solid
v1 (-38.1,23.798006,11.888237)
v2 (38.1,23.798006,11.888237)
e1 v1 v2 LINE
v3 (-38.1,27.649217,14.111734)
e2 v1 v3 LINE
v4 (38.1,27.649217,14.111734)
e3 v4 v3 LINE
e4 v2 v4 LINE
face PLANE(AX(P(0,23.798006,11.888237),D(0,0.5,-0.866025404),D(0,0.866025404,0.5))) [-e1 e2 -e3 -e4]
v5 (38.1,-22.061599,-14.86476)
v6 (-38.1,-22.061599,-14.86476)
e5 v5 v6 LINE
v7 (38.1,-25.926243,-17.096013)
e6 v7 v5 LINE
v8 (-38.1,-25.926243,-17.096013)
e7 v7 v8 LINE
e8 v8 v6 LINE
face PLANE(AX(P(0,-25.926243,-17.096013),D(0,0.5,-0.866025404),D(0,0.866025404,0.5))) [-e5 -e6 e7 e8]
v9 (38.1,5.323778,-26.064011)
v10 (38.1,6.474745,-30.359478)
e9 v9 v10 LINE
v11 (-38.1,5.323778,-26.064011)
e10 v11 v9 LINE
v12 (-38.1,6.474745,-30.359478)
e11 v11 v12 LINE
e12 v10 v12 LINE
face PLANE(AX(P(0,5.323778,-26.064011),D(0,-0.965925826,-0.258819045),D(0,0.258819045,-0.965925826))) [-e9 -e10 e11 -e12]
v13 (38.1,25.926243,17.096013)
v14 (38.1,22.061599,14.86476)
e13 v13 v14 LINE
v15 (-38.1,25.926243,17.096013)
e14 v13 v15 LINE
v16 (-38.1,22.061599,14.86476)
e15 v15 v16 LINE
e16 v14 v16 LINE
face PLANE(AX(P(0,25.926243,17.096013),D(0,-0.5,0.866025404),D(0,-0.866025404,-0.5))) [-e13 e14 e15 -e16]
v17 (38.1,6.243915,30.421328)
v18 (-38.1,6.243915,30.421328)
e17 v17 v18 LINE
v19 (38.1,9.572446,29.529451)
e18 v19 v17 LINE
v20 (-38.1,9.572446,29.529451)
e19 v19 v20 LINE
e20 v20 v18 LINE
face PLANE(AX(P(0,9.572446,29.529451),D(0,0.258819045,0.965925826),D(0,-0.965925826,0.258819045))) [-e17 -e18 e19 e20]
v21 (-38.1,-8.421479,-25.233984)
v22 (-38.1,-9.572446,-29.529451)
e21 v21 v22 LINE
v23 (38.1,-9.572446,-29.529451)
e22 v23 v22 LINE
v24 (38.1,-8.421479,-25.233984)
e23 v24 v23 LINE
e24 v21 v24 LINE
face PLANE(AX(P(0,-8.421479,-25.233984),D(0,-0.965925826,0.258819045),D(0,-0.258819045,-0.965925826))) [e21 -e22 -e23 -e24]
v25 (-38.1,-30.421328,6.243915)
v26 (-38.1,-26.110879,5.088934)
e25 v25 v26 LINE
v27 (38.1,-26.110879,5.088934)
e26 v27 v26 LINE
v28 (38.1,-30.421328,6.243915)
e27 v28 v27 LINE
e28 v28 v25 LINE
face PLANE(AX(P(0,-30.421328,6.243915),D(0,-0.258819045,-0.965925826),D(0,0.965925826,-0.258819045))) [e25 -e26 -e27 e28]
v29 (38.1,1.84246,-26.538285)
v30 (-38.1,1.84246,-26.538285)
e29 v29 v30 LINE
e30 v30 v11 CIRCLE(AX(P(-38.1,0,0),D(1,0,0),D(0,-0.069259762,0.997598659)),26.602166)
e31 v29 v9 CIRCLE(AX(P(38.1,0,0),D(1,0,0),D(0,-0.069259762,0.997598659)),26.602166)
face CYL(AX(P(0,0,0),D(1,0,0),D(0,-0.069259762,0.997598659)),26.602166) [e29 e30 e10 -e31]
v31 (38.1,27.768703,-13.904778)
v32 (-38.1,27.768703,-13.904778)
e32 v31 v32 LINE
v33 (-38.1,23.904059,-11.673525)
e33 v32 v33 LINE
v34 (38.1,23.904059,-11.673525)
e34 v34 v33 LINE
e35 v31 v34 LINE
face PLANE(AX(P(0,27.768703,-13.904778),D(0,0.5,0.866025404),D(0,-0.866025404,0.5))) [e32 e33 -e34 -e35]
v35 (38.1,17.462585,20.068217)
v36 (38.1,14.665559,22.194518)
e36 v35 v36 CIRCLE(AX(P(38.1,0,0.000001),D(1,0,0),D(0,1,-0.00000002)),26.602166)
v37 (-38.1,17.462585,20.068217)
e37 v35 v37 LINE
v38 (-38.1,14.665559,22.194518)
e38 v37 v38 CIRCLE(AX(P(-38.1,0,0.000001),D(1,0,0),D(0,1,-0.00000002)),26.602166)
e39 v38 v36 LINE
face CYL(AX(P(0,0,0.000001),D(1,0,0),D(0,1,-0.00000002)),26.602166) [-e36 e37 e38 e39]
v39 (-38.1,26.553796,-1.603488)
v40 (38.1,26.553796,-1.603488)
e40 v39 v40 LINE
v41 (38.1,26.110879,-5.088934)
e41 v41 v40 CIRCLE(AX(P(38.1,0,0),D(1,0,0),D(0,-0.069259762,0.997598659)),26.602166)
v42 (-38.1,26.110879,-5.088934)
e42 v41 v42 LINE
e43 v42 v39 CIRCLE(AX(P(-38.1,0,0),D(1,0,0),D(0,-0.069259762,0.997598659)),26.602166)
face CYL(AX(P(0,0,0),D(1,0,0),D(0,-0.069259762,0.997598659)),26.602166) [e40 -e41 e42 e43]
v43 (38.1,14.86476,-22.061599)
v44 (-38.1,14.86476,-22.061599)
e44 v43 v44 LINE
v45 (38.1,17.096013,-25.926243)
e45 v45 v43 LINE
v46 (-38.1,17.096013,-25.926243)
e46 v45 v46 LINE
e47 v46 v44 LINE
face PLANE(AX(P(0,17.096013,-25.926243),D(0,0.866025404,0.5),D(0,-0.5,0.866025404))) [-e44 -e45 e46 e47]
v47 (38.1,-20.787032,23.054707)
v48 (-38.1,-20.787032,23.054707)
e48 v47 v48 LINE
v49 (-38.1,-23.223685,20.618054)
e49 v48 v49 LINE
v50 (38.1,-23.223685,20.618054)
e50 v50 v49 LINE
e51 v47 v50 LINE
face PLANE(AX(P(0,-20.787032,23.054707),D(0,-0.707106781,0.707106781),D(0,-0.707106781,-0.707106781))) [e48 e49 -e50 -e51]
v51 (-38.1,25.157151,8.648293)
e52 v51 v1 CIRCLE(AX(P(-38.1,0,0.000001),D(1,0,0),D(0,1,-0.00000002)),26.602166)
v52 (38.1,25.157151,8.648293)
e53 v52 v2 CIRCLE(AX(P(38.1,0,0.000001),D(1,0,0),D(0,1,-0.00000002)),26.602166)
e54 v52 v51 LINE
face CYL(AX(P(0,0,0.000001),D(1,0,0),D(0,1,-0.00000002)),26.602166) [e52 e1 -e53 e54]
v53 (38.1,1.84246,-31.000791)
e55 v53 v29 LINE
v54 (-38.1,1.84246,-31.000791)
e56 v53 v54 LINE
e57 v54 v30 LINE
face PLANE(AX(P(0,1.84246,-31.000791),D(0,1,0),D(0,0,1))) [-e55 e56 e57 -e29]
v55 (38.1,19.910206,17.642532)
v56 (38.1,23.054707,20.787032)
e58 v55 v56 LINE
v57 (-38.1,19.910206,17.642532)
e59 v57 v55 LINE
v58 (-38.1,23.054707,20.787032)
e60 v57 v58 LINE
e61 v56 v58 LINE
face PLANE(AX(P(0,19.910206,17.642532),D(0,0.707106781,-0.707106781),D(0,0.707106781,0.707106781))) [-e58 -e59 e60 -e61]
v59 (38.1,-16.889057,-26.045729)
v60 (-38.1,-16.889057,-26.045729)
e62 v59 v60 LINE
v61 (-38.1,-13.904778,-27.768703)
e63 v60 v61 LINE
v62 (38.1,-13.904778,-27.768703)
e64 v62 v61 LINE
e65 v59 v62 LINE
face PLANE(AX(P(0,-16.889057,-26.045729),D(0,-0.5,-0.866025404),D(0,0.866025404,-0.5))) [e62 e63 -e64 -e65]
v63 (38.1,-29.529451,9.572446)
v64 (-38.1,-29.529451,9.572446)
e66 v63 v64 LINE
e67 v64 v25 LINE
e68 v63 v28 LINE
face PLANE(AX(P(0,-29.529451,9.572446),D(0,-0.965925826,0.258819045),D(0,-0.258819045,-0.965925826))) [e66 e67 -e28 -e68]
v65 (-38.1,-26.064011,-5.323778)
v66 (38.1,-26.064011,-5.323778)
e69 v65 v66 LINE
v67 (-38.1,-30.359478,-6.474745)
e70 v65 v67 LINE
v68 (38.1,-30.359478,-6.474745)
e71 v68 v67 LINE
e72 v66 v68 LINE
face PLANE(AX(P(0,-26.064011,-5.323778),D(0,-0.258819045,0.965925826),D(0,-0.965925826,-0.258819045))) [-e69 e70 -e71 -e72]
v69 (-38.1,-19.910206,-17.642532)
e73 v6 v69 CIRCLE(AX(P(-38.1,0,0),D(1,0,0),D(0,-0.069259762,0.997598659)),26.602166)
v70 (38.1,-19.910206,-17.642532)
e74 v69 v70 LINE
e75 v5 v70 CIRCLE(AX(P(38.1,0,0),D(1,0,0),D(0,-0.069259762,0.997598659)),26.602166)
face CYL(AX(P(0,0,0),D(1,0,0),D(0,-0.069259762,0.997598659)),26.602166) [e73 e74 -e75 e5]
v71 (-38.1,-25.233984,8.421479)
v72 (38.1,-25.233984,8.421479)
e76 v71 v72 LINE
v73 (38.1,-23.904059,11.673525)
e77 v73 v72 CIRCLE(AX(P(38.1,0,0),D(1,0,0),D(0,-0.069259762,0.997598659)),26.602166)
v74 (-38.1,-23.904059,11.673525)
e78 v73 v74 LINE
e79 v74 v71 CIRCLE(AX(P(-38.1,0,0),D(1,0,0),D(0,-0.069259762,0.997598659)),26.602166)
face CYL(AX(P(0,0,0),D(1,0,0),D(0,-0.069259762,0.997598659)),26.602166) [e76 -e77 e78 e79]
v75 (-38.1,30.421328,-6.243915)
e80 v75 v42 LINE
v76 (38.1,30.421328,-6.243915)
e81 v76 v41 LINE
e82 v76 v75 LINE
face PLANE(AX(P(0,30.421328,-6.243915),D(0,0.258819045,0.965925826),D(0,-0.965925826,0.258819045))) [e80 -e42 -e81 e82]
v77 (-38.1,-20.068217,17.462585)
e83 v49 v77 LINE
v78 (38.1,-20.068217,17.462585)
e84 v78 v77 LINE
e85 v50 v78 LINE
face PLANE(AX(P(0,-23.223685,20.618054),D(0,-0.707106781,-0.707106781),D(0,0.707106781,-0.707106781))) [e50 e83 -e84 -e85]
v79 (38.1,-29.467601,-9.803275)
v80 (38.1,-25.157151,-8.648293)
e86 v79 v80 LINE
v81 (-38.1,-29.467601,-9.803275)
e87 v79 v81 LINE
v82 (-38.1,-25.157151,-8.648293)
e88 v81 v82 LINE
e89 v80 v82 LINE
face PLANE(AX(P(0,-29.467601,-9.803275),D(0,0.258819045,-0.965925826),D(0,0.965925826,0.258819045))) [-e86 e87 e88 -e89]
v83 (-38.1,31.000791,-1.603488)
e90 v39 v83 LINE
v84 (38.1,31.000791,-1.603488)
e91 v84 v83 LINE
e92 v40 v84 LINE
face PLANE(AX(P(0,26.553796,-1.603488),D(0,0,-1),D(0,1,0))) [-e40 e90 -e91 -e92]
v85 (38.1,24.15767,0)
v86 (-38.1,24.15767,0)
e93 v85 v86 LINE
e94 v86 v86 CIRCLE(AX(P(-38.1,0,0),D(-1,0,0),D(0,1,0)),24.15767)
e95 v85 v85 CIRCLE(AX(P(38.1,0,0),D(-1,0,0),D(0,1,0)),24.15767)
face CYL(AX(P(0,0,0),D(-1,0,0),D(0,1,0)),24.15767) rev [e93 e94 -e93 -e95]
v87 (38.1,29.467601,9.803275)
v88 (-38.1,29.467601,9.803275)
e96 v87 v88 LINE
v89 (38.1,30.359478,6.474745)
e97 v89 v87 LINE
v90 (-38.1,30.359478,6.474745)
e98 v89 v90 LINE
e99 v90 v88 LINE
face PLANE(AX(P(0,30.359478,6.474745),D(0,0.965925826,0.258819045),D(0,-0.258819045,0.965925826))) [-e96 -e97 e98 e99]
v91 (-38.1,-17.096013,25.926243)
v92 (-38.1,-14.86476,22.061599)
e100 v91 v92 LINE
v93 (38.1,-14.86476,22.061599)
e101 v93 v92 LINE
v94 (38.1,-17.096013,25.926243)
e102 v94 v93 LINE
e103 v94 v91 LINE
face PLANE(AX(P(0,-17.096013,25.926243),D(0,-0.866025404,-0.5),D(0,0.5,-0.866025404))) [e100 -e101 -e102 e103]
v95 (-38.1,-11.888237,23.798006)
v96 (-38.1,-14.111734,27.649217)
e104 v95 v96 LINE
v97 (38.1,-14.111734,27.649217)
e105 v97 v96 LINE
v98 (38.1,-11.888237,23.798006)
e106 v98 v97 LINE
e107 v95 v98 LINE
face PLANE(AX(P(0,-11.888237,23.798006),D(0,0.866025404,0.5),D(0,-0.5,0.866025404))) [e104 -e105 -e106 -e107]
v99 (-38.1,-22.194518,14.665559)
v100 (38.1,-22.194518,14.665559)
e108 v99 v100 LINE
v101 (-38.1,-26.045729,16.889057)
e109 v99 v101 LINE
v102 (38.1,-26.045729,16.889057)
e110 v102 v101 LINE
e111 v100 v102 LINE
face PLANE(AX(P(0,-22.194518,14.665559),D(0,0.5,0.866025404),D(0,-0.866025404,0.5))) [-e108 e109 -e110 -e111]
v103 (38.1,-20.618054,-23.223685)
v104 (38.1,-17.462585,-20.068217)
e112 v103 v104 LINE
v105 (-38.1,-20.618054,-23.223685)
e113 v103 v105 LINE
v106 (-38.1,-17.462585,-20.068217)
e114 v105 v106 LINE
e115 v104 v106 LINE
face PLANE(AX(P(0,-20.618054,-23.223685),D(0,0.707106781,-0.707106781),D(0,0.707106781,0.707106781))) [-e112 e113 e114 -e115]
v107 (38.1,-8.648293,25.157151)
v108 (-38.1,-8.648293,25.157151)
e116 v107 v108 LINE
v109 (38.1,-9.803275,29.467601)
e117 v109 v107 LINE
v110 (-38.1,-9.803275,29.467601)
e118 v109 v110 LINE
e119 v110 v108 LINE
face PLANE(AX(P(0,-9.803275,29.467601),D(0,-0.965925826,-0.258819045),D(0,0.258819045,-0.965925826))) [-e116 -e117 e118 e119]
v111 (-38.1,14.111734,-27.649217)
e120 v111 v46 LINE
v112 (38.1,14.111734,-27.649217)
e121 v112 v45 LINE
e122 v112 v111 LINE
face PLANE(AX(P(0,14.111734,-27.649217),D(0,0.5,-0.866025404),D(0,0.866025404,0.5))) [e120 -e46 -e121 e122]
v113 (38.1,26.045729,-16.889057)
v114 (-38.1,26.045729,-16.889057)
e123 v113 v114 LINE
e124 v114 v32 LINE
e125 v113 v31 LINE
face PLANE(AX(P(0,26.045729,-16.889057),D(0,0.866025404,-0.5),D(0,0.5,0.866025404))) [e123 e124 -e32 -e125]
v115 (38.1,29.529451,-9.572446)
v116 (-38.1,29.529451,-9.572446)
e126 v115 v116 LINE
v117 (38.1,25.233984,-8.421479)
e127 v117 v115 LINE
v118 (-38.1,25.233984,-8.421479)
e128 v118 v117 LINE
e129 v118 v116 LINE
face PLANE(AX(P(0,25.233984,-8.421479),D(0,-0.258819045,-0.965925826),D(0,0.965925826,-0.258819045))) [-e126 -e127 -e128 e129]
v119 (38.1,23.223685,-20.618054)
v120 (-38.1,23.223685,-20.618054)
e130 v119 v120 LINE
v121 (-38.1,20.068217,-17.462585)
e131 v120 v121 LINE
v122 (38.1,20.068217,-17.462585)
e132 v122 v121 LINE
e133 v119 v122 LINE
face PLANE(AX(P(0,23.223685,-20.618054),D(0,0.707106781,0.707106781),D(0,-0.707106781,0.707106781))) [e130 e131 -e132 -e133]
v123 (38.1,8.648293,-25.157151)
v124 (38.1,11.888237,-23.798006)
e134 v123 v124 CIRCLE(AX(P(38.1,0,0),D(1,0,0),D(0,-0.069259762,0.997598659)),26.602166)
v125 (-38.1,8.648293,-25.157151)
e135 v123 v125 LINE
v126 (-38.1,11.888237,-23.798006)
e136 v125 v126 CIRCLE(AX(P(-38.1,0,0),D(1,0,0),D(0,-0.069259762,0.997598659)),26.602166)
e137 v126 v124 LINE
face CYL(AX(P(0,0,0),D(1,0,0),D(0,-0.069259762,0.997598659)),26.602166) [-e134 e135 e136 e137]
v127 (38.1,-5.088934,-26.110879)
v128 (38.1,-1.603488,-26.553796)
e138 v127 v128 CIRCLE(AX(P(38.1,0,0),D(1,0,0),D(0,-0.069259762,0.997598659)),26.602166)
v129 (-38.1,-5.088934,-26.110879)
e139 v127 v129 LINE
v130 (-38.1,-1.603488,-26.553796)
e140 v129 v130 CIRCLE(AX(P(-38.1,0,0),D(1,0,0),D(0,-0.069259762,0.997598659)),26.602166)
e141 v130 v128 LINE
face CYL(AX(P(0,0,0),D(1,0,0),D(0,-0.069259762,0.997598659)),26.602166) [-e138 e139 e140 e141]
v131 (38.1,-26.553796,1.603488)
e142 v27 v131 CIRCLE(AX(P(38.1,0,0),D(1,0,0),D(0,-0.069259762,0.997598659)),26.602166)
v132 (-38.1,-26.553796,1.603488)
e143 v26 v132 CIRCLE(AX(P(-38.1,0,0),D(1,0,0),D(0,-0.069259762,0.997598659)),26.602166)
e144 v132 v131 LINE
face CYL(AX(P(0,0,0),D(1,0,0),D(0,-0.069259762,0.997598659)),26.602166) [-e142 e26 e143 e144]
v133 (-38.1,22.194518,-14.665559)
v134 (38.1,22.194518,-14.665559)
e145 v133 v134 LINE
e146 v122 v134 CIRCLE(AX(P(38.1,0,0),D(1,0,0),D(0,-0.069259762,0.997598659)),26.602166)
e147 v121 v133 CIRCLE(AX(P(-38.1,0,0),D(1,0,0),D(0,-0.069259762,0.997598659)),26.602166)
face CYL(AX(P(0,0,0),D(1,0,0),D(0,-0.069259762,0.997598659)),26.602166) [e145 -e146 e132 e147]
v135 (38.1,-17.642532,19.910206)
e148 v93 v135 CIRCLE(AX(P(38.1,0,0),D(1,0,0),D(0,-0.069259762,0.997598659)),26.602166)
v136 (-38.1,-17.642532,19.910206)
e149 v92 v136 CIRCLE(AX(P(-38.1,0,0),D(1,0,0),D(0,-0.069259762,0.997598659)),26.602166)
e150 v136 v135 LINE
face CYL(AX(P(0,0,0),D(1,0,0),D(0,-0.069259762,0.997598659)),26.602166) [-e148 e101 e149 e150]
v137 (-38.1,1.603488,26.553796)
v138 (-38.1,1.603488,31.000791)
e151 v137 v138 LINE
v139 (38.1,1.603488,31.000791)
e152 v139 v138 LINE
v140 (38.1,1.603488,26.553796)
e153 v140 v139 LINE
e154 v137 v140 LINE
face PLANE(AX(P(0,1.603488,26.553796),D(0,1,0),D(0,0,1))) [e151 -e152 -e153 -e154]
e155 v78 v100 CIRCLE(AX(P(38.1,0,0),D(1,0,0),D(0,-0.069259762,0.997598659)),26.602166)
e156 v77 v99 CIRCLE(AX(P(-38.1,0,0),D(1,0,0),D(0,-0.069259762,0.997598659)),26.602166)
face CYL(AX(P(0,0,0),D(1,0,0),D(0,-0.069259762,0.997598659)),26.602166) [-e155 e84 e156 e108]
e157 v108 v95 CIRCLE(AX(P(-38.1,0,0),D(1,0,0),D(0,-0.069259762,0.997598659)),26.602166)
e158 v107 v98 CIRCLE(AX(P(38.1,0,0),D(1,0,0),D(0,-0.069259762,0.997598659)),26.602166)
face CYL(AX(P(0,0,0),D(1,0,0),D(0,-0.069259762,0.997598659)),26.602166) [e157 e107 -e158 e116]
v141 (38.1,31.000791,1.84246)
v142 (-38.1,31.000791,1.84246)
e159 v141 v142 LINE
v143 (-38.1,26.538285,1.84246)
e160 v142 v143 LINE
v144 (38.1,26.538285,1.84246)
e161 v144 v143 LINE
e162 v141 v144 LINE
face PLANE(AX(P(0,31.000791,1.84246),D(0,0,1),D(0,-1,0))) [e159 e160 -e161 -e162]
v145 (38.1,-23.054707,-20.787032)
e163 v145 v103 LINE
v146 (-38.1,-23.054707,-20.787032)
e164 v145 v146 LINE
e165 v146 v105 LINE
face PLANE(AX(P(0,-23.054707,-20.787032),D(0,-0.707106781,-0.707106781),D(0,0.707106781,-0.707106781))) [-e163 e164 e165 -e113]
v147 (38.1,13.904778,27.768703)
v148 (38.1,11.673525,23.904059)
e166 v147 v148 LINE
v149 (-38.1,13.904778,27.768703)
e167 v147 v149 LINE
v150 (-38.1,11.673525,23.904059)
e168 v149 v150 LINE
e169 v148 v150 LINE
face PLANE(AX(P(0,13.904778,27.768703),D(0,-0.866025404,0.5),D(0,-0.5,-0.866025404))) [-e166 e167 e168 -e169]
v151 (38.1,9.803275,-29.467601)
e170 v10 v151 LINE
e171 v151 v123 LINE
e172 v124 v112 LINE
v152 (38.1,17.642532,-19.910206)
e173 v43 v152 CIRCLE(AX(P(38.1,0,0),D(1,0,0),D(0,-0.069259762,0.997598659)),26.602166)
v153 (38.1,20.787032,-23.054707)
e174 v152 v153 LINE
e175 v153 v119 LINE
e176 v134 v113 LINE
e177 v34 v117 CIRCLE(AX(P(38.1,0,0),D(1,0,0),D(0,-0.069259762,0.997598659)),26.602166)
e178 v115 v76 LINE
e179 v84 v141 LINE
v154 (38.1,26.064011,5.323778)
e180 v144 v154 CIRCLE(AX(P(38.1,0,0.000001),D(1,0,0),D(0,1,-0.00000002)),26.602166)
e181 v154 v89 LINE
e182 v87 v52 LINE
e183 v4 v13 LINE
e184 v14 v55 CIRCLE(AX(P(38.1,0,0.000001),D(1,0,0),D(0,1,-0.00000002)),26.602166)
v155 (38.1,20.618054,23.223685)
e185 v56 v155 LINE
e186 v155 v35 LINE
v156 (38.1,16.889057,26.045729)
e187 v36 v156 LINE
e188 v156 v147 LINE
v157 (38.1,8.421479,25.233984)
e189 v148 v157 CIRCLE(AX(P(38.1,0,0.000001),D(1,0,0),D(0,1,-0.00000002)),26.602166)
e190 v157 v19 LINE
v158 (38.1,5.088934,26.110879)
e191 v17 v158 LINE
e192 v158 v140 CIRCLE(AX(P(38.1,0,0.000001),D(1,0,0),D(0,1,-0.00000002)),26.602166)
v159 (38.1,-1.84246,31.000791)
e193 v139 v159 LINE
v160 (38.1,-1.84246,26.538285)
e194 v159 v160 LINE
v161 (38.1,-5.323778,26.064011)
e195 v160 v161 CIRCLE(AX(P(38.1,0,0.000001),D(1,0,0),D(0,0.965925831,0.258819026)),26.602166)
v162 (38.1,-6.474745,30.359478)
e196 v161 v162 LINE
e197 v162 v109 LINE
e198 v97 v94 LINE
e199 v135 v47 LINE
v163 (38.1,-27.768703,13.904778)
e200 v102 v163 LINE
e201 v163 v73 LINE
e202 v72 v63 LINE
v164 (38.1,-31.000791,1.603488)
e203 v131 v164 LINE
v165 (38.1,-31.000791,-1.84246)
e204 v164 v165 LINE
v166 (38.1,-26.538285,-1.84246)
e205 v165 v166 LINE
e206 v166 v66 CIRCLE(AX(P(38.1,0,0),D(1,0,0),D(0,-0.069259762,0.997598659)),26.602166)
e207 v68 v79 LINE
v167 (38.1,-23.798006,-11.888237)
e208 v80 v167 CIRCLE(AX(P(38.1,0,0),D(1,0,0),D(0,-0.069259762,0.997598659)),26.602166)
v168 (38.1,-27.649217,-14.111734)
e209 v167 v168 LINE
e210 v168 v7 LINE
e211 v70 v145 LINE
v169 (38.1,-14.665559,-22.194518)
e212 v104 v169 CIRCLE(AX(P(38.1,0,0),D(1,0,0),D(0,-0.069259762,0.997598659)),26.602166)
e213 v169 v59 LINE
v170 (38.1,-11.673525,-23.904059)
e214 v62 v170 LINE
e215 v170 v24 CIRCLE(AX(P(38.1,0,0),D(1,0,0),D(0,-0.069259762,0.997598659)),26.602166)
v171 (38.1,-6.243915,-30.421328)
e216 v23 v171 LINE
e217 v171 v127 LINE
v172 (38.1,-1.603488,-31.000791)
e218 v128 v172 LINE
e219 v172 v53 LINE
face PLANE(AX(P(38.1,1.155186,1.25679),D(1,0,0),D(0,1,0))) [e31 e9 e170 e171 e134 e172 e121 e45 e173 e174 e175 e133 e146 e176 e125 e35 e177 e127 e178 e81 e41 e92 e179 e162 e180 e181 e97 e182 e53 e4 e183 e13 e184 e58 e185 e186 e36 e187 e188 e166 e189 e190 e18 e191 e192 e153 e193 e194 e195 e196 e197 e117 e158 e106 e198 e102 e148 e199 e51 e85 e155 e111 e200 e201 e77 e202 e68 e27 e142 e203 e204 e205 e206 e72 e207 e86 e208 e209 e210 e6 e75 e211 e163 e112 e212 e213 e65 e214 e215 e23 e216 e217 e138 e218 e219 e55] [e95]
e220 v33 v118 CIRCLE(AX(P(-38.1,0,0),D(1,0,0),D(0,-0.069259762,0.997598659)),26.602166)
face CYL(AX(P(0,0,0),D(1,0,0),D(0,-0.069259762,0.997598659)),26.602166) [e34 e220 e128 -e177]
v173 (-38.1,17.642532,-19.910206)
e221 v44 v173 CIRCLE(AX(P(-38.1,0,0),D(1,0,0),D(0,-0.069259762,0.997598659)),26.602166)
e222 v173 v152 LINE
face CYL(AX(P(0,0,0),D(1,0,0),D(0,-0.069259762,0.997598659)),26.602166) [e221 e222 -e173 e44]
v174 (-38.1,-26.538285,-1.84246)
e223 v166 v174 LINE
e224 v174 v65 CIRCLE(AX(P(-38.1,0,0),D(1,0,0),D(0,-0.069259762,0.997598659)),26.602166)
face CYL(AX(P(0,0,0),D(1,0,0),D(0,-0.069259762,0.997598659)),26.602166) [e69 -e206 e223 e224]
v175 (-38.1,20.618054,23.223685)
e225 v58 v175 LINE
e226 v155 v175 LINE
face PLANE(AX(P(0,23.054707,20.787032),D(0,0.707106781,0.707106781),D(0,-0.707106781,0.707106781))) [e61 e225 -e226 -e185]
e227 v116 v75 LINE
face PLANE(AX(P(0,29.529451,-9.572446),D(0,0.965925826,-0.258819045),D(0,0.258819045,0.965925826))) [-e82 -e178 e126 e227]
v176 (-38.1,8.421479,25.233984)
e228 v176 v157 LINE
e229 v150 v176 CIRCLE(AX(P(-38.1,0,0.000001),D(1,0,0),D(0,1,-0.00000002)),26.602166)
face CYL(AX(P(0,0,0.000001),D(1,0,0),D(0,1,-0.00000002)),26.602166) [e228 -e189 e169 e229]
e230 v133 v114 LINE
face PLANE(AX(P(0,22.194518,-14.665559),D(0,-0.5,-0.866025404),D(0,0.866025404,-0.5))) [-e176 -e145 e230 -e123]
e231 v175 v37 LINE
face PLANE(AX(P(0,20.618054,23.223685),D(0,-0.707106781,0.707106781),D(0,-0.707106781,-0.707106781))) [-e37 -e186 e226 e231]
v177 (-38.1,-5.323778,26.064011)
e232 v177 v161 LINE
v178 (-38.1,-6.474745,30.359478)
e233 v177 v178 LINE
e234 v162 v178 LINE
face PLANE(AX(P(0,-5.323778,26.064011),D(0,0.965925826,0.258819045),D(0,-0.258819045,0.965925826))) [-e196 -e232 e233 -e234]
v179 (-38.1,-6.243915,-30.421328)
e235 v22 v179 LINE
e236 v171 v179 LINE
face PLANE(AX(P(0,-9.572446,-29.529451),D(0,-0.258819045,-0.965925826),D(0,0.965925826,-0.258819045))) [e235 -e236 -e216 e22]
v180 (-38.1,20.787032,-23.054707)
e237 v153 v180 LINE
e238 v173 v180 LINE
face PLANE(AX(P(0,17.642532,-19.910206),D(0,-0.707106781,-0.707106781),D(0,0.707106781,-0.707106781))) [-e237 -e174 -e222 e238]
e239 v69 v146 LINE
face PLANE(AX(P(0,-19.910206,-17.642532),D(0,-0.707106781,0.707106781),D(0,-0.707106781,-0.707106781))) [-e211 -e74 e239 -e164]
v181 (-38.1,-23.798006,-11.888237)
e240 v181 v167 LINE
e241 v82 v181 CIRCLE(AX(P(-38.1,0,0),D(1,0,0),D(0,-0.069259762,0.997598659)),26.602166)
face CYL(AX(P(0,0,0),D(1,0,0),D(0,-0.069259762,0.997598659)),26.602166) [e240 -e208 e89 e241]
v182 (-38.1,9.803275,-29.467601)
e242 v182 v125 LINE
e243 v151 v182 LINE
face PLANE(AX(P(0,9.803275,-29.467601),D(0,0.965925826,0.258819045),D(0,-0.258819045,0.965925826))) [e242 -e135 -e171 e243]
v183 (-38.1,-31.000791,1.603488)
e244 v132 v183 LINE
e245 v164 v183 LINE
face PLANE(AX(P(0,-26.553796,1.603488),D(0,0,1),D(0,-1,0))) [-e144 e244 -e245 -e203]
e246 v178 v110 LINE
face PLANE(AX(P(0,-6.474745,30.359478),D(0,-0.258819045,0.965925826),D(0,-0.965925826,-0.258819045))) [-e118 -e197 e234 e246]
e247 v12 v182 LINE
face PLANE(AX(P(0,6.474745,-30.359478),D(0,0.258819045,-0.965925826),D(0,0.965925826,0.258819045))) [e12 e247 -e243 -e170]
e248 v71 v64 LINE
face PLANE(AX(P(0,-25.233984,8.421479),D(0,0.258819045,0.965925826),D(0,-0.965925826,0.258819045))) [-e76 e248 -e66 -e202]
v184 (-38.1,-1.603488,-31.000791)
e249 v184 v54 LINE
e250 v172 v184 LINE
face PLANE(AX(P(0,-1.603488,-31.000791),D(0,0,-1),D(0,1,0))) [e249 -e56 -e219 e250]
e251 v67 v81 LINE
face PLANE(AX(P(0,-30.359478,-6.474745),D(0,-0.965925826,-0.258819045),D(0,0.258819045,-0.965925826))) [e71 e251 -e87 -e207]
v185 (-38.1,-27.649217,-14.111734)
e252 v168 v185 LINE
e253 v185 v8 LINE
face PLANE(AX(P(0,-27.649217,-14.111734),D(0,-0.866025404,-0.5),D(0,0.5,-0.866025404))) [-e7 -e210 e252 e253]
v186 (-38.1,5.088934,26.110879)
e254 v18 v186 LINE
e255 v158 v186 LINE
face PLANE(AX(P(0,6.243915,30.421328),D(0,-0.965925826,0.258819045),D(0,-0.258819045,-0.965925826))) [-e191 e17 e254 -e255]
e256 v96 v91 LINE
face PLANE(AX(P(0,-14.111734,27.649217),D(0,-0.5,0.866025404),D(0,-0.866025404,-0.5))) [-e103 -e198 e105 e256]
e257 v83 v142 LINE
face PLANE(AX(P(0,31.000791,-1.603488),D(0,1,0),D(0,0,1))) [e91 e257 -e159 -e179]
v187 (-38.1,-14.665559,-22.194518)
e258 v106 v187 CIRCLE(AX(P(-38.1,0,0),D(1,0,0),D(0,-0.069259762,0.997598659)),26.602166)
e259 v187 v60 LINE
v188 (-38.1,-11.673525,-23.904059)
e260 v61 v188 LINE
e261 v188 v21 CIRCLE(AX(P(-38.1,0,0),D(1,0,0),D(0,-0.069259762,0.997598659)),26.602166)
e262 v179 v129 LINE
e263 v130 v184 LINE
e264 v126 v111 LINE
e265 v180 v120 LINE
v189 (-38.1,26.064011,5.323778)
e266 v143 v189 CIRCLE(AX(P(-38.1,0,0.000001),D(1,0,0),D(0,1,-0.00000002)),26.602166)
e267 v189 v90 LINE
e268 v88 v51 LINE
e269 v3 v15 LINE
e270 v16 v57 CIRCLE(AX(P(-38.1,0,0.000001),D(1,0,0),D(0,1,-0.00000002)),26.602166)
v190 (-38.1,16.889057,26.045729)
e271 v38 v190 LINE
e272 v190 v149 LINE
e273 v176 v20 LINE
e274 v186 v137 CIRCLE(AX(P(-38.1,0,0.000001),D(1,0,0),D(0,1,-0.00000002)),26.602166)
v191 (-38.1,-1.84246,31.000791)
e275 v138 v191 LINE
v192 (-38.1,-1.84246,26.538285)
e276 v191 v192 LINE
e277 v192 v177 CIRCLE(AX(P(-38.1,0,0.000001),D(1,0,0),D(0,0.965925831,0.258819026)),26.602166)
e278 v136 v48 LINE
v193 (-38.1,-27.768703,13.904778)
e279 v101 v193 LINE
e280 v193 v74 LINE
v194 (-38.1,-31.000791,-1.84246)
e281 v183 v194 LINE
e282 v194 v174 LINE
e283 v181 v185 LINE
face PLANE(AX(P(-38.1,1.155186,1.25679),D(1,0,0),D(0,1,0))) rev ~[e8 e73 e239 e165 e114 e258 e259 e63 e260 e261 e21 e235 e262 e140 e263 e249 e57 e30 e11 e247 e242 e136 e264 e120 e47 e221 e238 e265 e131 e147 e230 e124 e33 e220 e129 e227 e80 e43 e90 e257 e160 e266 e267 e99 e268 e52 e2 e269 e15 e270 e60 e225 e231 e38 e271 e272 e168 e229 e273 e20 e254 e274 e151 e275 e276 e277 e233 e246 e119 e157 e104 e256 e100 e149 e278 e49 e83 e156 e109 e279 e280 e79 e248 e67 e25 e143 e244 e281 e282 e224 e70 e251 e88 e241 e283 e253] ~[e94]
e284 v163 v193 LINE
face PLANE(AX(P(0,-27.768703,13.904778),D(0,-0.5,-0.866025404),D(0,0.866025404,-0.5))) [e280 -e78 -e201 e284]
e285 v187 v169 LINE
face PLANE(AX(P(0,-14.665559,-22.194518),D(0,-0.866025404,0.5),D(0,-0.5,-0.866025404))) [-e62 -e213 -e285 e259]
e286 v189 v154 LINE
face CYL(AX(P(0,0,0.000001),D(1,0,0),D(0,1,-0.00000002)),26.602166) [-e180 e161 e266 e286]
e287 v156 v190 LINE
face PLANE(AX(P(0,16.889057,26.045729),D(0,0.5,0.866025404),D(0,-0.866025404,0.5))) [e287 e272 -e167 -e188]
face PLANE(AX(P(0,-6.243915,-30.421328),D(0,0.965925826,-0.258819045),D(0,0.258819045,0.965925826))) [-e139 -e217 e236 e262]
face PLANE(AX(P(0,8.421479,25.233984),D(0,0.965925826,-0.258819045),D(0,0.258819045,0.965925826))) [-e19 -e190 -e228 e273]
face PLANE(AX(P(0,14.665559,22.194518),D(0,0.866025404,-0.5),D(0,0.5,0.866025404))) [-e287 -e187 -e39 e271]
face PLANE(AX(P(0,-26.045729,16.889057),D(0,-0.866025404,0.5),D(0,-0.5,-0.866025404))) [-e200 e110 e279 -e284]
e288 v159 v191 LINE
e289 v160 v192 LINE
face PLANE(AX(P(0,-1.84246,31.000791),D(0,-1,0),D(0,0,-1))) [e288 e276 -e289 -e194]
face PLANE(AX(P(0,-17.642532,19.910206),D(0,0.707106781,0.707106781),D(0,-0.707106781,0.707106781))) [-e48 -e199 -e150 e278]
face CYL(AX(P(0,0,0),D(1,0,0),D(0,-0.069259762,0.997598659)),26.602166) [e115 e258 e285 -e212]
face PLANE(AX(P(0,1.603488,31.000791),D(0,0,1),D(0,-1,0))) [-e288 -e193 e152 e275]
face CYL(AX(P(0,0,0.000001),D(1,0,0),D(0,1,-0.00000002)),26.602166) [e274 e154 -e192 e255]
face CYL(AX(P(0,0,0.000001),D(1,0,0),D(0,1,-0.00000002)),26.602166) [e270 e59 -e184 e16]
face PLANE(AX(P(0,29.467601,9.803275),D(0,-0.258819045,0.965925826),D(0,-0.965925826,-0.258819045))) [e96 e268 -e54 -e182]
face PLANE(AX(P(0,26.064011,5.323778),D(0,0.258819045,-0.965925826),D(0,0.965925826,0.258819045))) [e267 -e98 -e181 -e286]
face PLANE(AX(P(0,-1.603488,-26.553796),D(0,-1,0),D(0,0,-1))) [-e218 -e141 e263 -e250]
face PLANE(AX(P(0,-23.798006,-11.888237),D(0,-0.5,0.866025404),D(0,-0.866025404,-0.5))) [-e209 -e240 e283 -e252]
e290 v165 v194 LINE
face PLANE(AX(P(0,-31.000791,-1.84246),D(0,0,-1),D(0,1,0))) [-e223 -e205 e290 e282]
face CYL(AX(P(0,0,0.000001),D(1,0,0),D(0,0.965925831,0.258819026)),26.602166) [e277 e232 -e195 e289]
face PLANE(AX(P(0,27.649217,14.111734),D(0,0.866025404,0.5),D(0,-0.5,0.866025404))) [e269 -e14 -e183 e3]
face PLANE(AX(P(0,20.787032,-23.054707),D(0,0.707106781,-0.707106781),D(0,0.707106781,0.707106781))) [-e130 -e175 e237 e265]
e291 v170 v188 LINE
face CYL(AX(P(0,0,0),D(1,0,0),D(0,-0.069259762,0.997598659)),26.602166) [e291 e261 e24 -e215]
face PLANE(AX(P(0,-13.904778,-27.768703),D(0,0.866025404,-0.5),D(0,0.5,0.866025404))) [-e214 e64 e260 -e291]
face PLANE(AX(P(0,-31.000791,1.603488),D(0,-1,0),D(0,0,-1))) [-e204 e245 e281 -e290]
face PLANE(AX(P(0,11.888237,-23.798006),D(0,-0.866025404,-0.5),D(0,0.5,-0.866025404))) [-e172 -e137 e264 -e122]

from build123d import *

# Parameters (mm, degrees)
F0_R     = 24.15767
F1_DEPTH = 38.1
F2_COUNT = 24


with BuildPart() as f1:
    # F0 (on Right) → F1 (new body, symmetric)
    with BuildSketch(Plane.YZ):
        with BuildLine():
            ThreePointArc((-1.84246, 26.538285), (-18.147477, -19.451076), (26.602166, 0))
            ThreePointArc((26.602166, 0), (19.369196, 18.234843), (1.603488, 26.553796))
            ThreePointArc((1.603488, 26.553796), (-0.119738, 26.601897), (-1.84246, 26.538285))
        make_face()
        Circle(F0_R, mode=Mode.SUBTRACT)
        with BuildLine():
            ThreePointArc((-1.84246, 26.538285), (-0.119738, 26.601897), (1.603488, 26.553796))
            Line((1.603488, 26.553796), (1.603488, 31.000791))
            Line((1.603488, 31.000791), (-1.84246, 31.000791))
            Line((-1.84246, 31.000791), (-1.84246, 26.538285))
        make_face()
    extrude(amount=F1_DEPTH, both=True)

    # F2: F1 ×24 about axis
    f2_axis = Axis((0, 0, 0), (1, 0, 0))


with BuildPart() as f1_1:
    add(f1.part)
    for i in range(1, F2_COUNT):
        add(f1.part.rotate(f2_axis, i * 360 / F2_COUNT))


solid = f1_1.part
